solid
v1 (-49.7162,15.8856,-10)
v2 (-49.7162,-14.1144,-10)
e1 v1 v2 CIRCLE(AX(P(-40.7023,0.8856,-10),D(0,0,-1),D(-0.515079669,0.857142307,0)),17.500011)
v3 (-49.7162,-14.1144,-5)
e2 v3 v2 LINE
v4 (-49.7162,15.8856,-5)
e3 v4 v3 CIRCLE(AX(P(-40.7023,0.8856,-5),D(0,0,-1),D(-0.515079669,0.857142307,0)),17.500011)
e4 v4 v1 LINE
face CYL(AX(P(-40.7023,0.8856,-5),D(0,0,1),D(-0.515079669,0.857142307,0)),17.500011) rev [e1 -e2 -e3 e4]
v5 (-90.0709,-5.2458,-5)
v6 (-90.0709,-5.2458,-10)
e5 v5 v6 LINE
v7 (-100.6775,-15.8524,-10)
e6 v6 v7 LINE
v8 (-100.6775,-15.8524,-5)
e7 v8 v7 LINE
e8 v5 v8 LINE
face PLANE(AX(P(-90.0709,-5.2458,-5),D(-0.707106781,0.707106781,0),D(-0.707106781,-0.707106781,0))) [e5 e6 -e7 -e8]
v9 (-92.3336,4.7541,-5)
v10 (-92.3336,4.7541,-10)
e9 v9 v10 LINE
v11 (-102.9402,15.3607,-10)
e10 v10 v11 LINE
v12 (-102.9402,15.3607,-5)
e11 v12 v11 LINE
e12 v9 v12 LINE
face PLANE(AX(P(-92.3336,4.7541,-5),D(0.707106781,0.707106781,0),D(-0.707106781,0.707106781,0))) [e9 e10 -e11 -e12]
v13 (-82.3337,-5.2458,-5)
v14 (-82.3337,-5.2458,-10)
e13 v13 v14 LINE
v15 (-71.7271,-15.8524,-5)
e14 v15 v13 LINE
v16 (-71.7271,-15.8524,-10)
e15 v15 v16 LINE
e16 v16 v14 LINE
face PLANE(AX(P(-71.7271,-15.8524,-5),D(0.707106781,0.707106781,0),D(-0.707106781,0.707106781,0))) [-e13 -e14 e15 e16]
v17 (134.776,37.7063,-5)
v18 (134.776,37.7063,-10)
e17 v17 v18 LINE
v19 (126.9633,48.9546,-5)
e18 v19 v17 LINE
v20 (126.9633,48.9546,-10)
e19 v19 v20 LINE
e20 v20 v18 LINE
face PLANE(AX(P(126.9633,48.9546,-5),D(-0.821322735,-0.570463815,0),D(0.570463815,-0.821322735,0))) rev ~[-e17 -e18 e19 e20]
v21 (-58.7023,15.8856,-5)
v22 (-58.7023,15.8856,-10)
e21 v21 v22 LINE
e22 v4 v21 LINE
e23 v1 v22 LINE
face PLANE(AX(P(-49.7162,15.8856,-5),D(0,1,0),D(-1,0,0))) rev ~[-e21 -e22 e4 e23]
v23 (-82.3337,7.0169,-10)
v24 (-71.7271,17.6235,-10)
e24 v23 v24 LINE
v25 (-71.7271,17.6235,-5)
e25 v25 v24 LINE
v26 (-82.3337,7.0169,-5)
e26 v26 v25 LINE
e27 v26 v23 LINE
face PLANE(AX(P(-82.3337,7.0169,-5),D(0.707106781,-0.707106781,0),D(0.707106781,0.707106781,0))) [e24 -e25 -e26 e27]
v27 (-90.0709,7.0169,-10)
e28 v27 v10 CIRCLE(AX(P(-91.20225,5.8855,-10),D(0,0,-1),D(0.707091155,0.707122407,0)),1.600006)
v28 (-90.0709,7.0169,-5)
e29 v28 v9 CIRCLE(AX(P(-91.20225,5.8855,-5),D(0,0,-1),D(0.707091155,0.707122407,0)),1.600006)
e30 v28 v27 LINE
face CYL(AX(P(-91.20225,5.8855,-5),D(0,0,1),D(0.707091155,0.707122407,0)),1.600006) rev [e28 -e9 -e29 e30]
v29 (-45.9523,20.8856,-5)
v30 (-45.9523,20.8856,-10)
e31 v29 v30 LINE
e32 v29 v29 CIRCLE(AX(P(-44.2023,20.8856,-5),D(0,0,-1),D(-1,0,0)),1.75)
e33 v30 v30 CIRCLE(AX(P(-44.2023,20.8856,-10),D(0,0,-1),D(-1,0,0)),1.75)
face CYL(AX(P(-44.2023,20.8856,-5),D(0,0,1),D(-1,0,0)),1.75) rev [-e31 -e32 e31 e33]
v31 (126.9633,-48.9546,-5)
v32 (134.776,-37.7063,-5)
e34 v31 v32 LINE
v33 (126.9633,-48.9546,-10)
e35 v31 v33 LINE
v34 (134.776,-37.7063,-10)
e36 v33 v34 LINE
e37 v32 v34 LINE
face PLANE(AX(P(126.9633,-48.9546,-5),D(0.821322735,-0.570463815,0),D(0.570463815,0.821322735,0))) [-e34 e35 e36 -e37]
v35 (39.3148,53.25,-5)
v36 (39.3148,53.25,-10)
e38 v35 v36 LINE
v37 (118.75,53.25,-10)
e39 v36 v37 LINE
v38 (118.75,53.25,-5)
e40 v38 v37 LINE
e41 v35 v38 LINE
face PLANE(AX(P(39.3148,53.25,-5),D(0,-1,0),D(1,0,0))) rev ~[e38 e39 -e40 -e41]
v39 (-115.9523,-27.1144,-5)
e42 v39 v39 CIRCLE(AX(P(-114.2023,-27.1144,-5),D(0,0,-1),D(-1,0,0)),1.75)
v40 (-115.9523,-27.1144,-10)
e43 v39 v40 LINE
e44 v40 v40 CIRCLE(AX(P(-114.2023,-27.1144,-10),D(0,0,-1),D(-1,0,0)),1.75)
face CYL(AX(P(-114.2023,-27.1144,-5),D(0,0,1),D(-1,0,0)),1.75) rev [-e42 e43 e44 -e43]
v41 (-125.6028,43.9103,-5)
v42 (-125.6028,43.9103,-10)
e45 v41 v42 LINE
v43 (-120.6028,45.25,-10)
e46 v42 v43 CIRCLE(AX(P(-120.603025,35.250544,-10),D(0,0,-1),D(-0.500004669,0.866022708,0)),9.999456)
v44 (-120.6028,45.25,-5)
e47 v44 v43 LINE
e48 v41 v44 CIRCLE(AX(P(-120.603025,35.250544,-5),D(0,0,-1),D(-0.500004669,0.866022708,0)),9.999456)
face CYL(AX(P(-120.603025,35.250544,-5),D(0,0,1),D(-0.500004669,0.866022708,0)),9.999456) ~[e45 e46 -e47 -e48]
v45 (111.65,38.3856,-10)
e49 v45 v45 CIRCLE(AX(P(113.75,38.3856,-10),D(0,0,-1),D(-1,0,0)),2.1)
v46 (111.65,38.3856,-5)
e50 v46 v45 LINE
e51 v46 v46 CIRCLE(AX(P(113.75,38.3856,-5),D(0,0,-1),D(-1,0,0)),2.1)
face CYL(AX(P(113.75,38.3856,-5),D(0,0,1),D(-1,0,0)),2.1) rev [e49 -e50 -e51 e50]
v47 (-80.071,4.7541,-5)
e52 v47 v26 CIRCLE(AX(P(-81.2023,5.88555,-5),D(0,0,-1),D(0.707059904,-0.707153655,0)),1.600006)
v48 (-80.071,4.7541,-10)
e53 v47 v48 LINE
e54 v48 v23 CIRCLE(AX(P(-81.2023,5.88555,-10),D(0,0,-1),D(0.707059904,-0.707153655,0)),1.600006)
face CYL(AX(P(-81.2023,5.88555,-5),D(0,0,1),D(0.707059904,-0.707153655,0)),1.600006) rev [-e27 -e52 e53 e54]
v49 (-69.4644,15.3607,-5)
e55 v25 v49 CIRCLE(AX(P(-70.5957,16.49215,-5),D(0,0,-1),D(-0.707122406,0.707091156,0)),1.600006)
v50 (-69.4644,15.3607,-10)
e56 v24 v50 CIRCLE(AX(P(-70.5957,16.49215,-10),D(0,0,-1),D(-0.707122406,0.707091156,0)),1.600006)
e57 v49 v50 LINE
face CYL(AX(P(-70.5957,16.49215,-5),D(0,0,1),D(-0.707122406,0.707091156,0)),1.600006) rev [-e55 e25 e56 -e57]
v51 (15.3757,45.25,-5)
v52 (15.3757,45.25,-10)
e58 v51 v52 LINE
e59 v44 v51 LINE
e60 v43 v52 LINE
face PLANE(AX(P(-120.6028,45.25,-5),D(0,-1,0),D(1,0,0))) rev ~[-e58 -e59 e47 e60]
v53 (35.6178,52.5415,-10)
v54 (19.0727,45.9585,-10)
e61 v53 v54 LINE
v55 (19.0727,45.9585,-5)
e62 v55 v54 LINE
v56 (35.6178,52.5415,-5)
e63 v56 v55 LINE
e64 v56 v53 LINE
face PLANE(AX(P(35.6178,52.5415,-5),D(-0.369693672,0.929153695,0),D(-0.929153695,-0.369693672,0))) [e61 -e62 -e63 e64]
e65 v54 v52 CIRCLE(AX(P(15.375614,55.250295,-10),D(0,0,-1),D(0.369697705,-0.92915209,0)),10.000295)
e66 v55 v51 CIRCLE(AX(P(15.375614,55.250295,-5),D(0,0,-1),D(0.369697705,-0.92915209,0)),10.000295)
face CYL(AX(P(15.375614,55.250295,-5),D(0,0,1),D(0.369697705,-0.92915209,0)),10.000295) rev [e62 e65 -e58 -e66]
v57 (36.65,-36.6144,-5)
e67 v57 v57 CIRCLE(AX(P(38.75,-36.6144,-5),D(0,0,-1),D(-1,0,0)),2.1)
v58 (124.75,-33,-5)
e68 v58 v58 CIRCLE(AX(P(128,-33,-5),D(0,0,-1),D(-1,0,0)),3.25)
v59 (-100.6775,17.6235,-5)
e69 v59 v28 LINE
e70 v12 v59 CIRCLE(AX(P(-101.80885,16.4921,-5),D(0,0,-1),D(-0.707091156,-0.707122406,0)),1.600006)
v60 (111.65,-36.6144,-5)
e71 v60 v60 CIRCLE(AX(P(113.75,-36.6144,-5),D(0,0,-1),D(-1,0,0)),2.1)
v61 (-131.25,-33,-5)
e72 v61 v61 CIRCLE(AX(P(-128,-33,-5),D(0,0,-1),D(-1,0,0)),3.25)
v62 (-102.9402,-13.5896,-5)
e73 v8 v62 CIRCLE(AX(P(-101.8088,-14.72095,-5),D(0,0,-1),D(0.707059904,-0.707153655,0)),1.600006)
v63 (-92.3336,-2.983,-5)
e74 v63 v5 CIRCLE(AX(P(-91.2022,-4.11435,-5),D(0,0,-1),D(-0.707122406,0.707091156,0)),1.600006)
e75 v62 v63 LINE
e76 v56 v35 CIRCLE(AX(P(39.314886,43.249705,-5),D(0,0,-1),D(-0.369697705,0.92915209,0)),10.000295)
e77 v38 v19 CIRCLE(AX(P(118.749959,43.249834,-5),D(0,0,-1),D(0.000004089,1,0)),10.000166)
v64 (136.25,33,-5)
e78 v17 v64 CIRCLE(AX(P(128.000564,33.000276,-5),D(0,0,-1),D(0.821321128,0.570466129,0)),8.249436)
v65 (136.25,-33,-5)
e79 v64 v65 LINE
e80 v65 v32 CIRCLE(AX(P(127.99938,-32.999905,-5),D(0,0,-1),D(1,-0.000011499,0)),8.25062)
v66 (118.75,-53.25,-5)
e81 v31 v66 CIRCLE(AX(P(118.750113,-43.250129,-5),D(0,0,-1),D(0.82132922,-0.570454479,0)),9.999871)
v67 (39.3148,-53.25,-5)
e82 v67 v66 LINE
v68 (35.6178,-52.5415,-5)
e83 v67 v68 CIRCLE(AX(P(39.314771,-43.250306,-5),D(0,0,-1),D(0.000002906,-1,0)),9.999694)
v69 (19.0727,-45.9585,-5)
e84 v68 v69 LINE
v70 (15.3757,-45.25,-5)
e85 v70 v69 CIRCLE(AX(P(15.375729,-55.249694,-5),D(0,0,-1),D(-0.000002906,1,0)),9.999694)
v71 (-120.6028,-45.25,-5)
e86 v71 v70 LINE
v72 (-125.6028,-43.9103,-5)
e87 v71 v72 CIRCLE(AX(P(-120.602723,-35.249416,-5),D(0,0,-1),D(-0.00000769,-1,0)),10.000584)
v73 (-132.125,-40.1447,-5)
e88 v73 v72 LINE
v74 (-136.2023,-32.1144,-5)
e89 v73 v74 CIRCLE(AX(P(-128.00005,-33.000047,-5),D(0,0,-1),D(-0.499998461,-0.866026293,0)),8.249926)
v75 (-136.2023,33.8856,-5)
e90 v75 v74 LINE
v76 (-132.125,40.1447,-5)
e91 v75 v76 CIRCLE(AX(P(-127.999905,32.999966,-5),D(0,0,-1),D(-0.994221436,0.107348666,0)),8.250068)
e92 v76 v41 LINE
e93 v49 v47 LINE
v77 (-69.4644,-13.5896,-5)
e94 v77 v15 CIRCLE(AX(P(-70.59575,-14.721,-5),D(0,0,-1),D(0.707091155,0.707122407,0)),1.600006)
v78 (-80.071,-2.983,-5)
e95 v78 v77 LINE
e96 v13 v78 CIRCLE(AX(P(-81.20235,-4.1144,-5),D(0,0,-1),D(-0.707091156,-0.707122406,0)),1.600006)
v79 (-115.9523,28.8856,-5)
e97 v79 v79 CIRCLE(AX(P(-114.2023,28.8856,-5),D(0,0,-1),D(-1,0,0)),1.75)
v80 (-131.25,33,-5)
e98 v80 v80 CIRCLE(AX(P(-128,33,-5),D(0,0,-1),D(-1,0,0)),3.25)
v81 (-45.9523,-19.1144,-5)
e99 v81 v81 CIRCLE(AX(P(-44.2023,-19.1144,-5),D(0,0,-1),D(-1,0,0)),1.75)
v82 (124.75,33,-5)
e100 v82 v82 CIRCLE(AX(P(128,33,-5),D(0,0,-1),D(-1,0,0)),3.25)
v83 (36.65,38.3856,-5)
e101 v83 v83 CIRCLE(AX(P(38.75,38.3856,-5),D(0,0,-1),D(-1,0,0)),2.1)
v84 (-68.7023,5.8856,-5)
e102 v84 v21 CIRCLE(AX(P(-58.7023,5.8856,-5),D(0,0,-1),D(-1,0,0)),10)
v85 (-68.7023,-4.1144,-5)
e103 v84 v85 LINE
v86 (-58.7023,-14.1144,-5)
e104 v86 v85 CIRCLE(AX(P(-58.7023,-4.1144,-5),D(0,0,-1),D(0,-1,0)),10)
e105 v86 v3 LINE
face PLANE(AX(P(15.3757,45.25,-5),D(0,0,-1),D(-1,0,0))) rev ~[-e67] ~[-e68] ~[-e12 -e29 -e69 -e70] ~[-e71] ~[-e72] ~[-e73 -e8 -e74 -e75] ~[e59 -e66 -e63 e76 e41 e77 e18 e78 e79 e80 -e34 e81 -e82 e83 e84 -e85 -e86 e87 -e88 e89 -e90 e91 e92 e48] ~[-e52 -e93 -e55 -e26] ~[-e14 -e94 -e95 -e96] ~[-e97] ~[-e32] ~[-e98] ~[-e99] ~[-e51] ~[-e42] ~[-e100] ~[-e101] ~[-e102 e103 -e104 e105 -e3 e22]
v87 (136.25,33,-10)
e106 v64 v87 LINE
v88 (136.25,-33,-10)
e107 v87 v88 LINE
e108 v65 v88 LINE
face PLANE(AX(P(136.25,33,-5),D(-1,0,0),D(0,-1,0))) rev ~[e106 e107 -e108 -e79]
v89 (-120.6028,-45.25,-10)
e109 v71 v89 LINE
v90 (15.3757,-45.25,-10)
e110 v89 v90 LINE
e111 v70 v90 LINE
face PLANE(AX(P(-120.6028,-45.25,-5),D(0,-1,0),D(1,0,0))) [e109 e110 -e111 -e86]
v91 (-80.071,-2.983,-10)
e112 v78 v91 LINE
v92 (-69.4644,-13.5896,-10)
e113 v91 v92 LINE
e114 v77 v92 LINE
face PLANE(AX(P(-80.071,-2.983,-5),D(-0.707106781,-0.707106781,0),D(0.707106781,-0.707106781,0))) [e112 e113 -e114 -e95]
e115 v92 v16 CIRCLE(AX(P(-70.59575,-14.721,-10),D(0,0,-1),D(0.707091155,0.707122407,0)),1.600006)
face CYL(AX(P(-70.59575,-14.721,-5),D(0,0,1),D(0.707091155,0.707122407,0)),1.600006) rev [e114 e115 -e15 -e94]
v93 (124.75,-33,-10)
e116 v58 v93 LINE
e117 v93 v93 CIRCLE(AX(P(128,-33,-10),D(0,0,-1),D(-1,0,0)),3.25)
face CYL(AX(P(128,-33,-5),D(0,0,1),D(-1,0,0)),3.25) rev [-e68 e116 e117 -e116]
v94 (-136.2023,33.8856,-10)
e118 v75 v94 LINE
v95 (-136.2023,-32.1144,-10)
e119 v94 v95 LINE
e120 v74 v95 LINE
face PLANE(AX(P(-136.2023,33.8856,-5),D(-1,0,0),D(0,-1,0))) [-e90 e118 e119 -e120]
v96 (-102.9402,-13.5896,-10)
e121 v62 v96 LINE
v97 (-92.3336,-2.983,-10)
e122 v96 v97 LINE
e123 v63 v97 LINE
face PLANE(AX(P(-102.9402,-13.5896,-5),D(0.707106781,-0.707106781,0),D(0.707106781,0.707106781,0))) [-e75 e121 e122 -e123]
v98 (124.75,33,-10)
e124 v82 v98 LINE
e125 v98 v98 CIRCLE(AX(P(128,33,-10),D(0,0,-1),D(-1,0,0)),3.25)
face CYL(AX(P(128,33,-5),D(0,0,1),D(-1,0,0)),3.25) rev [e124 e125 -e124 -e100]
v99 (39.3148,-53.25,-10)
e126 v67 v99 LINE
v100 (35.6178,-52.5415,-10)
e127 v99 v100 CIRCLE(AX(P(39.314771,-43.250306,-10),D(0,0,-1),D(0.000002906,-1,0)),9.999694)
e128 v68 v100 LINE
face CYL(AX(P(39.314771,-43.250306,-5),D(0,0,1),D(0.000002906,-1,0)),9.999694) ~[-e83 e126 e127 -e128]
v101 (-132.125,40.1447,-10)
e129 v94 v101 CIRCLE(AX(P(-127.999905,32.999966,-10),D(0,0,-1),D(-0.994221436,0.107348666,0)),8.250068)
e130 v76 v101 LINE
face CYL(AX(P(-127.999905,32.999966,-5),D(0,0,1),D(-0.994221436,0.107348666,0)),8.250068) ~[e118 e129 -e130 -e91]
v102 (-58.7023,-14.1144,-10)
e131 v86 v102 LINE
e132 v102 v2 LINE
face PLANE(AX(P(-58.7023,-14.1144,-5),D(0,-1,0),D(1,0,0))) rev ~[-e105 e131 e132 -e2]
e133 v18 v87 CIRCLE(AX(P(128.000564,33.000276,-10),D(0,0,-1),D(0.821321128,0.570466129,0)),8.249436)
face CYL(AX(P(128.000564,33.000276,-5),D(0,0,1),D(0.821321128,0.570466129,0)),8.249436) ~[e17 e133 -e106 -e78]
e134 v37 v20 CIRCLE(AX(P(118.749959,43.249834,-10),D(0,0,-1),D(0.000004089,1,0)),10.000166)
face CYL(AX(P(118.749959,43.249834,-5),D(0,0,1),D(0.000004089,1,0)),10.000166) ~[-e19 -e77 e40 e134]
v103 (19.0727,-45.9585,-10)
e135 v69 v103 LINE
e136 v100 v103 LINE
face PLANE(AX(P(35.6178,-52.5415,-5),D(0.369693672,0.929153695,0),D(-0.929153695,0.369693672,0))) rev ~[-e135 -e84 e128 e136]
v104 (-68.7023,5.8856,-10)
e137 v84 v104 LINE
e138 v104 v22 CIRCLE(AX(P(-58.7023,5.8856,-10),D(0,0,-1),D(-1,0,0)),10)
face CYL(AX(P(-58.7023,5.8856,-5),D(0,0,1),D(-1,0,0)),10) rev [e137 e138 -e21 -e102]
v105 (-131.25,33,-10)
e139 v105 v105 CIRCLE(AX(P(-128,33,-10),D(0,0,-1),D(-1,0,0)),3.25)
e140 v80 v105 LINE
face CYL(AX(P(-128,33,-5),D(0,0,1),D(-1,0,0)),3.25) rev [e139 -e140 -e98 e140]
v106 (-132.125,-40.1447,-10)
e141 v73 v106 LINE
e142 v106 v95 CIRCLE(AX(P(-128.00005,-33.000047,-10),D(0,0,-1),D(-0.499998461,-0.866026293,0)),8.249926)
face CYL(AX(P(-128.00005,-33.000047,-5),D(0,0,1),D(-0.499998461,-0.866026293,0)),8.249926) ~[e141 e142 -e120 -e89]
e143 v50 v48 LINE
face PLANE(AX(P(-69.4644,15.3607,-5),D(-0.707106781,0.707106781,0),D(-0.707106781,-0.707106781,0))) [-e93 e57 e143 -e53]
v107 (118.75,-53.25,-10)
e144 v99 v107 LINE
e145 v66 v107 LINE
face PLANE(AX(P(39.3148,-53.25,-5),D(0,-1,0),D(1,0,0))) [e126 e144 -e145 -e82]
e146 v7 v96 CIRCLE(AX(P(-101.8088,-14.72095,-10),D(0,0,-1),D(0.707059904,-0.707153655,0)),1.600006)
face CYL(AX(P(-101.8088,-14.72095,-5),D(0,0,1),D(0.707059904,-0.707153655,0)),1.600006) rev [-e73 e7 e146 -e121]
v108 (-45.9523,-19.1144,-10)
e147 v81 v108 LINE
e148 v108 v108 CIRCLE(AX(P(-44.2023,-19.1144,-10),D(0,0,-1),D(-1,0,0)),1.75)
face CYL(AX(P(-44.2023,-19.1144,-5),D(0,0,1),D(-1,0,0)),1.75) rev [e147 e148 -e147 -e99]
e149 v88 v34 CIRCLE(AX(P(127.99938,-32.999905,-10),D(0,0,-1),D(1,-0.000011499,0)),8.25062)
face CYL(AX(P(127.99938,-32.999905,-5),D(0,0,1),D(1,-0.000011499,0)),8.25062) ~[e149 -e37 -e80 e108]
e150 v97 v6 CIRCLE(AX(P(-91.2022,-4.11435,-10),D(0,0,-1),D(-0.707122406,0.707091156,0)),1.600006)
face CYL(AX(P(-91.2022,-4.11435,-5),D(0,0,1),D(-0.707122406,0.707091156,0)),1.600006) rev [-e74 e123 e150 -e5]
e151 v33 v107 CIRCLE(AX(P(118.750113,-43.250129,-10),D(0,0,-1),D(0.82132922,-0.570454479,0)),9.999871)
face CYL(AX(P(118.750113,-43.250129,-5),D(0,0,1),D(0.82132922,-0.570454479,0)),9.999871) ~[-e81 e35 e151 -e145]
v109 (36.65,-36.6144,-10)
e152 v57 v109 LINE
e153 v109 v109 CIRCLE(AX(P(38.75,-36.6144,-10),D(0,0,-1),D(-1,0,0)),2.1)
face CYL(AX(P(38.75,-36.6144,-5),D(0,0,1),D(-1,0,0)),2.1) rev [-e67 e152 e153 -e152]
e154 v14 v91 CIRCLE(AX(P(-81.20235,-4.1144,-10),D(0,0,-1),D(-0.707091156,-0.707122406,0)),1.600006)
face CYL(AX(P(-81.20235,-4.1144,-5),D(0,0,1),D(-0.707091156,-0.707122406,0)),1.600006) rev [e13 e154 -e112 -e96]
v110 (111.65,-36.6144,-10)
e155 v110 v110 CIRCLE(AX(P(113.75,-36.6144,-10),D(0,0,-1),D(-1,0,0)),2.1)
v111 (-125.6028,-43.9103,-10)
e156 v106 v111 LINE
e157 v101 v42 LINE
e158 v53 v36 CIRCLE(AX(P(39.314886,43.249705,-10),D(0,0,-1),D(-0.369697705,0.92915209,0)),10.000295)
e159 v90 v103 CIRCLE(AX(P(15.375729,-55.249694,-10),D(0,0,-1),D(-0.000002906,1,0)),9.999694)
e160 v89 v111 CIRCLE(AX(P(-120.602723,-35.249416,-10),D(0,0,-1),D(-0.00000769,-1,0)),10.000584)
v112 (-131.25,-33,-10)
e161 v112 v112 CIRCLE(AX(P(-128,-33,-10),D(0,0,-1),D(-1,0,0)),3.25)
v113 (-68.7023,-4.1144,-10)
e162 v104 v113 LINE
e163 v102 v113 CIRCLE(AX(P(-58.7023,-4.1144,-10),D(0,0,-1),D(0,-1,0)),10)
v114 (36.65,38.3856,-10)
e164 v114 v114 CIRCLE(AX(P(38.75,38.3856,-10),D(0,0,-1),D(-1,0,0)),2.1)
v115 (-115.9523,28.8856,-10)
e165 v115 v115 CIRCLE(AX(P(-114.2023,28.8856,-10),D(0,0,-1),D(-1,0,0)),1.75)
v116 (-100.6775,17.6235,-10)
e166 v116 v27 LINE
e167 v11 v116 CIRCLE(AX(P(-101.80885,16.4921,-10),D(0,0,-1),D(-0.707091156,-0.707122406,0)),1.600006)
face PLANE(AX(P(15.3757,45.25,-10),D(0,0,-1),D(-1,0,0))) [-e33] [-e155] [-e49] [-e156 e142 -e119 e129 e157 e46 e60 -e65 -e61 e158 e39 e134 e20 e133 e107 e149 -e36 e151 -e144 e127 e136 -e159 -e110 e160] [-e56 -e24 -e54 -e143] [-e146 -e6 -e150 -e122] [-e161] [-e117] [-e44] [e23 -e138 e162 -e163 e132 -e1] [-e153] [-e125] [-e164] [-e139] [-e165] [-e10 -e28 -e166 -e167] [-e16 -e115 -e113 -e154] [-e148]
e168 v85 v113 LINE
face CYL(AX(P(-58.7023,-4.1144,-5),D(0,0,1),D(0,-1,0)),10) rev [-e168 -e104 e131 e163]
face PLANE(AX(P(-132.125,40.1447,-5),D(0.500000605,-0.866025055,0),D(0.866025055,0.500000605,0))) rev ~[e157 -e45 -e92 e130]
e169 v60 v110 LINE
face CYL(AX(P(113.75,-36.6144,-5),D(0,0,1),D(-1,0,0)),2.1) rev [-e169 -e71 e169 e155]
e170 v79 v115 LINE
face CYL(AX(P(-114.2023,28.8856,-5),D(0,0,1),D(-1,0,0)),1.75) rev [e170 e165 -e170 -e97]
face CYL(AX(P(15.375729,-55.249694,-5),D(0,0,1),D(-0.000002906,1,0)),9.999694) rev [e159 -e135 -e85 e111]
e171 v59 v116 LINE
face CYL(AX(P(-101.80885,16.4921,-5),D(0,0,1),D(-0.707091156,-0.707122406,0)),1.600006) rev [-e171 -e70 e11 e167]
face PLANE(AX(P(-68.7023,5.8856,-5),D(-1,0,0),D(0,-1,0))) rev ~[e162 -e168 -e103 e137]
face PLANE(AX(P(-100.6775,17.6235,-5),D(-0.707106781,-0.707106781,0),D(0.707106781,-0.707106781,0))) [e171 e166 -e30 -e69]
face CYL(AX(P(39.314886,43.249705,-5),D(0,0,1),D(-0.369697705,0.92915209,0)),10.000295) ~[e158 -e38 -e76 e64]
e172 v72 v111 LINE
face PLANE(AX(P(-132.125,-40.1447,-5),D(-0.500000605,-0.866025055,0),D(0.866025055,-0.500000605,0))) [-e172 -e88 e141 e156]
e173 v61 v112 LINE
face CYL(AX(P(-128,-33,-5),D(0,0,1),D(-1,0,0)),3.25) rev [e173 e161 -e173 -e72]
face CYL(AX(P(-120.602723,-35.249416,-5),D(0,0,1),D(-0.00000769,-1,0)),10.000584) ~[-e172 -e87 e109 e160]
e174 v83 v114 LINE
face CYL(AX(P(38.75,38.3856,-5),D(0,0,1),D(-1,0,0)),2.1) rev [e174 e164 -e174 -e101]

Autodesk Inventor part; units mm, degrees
ref_plane "YZ Plane" through (0, 0, 0) normal (1, 0, 0) x (0, 1, 0)
ref_plane "XZ Plane" through (0, 0, 0) normal (0, 1, 0) x (-1, 0, 0)
ref_plane "XY Plane" through (0, 0, 0) normal (0, 0, 1) x (1, 0, 0)
ref_plane "作業平面1" through (15.3757, 45.25, -5) normal (0, 0, -1) x (-1, 0, 0)
sketch "Base_plate" plane through (15.3757, 45.25, -5) normal (0, 0, -1) x (-1, 0, 0)
  circle A0 centre (-112.6243, -12.25) radius 3.25
  circle A1 centre (-112.6243, -78.25) radius 3.25
  circle A2 centre (143.3757, -78.25) radius 3.25
  circle A3 centre (143.3757, -12.25) radius 3.25
  line L0 (151.578, -11.3644) -> (151.578, -77.3644)
  arc A4 (151.578, -11.3644) -> (147.5007, -5.1053) centre (143.3757, -12.25) ccw
  line L1 (147.5007, -5.1053) -> (140.9785, -1.3397)
  arc A5 (140.9785, -1.3397) -> (135.9785, 0) centre (135.9785, -10) ccw
  line L2 (135.9785, 0) -> (0, 0)
  line L3 (-20.2421, 7.2915) -> (-3.697, 0.7085)
  line L4 (-23.9391, 8) -> (-103.3743, 8)
  line L5 (0, 0) -> (135.9785, 0)
  arc A6 (140.9785, -1.3397) -> (135.9785, 0) centre (135.9785, -10) ccw
  line L6 (140.9785, -1.3397) -> (147.5007, -5.1053)
  arc A7 (151.578, -11.3644) -> (147.5007, -5.1053) centre (143.3757, -12.25) ccw
  line L7 (151.578, -11.3644) -> (151.578, -77.3644)
  arc A8 (147.5007, -85.3947) -> (151.578, -77.3644) centre (143.3757, -78.25) ccw
  arc A9 (-103.3743, 8) -> (-111.5876, 3.7046) centre (-103.3743, -2) ccw
  line L8 (-103.3743, 8) -> (-23.9391, 8)
  arc A10 (-20.2421, 7.2915) -> (-23.9391, 8) centre (-23.9391, -2) ccw
  line L9 (-20.2421, 7.2915) -> (-3.697, 0.7085)
  arc A11 (-3.697, 0.7085) -> (0, 0) centre (0, 10) ccw
  circle A12 centre (-112.6243, -12.25) radius 3.25
  circle A13 centre (143.3757, -12.25) radius 3.25
  circle A14 centre (143.3757, -78.25) radius 3.25
  circle A15 centre (-112.6243, -78.25) radius 3.25
  line L10 (135.9785, 0) -> (0, 0)
  arc A16 (140.9785, -1.3397) -> (135.9785, 0) centre (135.9785, -10) ccw
  line L11 (147.5007, -5.1053) -> (140.9785, -1.3397)
  arc A17 (151.578, -11.3644) -> (147.5007, -5.1053) centre (143.3757, -12.25) ccw
  line L12 (151.6257, -11.3644) -> (151.6257, -77.3644)
  arc A18 (147.5007, -85.3947) -> (151.578, -77.3644) centre (143.3757, -78.25) ccw
  line L13 (147.5007, -85.3947) -> (140.9785, -89.1603)
  arc A19 (135.9785, -90.5) -> (140.9785, -89.1603) centre (135.9785, -80.5) ccw
  line L14 (135.9785, -90.5) -> (0, -90.5)
  arc A20 (0, -90.5) -> (-3.697, -91.2085) centre (0, -100.5) ccw
  line L15 (-20.2421, -97.7915) -> (-3.697, -91.2085)
  arc A21 (-23.9391, -98.5) -> (-20.2421, -97.7915) centre (-23.9391, -88.5) ccw
  line L16 (-23.9391, -98.5) -> (-103.3743, -98.5)
  arc A22 (-111.5876, -94.2046) -> (-103.3743, -98.5) centre (-103.3743, -88.5) ccw
  line L17 (-111.5876, -94.2046) -> (-119.4003, -82.9563)
  arc A23 (-120.8743, -78.25) -> (-119.4003, -82.9563) centre (-112.6243, -78.25) ccw
  line L18 (-120.8743, -12.25) -> (-120.8743, -78.25)
  arc A24 (-119.4003, -7.5437) -> (-120.8743, -12.25) centre (-112.6243, -12.25) ccw
  line L19 (-111.5876, 3.7046) -> (-119.4003, -7.5437)
  line L20 (-23.9391, 8) -> (-103.3743, 8)
  arc A25 (-20.2421, 7.2915) -> (-23.9391, 8) centre (-23.9391, -2) ccw
  line L21 (-20.2421, 7.2915) -> (-3.697, 0.7085)
  arc A26 (-3.697, 0.7085) -> (0, 0) centre (0, 10) ccw
  line L22 (101.578, 7.8213) -> (101.578, -100.5) construction
  line L23 (151.6257, -44.3644) -> (-114.4175, -44.3644) construction
  circle A27 centre (56.078, -44.3644) radius 17.5 construction
  line L24 (129.578, -5.1053) -> (129.578, -82.9563) construction
  circle A28 centre (129.578, -16.3644) radius 1.75
  circle A29 centre (129.578, -72.3644) radius 1.75
  line L25 (59.578, -19.3302) -> (59.578, -75) construction
  circle A30 centre (59.578, -24.3644) radius 1.75
  circle A31 centre (59.578, -64.3644) radius 1.75
  circle A32 centre (101.578, -44.3644) radius 14.75 construction
  line L26 (101.578, -44.3644) -> (118.6401, -27.3023) construction
  line L27 (101.578, -44.3644) -> (125.7075, -44.3644) construction
  line L28 (106.5779, -39.3645) -> (117.1845, -28.7579) construction
  line L29 (107.7093, -40.4959) -> (118.3159, -29.8893)
  line L30 (116.0532, -27.6265) -> (105.4466, -38.2331)
  arc A33 (105.4466, -38.2331) -> (107.7093, -40.4959) centre (106.5779, -39.3645) ccw
  arc A34 (118.3159, -29.8893) -> (116.0532, -27.6265) centre (117.1845, -28.7579) ccw
  line L31 (84.8401, -29.8893) -> (95.4467, -40.4959)
  arc A35 (87.1028, -27.6265) -> (84.8401, -29.8893) centre (85.9714, -28.7579) ccw
  line L32 (97.7094, -38.2331) -> (87.1028, -27.6265)
  arc A36 (95.4467, -40.4959) -> (97.7094, -38.2331) centre (96.578, -39.3645) ccw
  line L33 (87.1028, -61.1024) -> (97.7094, -50.4958)
  arc A37 (84.8401, -58.8396) -> (87.1028, -61.1024) centre (85.9714, -59.971) ccw
  line L34 (95.4467, -48.233) -> (84.8401, -58.8396)
  arc A38 (97.7094, -50.4958) -> (95.4467, -48.233) centre (96.578, -49.3644) ccw
  line L35 (118.3159, -58.8396) -> (107.7093, -48.233)
  arc A39 (116.0532, -61.1024) -> (118.3159, -58.8396) centre (117.1845, -59.971) ccw
  line L36 (105.4466, -50.4958) -> (116.0532, -61.1024)
  arc A40 (107.7093, -48.233) -> (105.4466, -50.4958) centre (106.5779, -49.3644) ccw
  line L37 (65.0919, -29.3644) -> (74.078, -29.3644)
  line L38 (84.078, -39.3644) -> (84.078, -49.3644)
  line L39 (74.078, -59.3644) -> (65.0919, -59.3644)
  line L40 (65.0919, -59.3644) -> (65.0919, -29.3644) construction
  arc A41 (84.078, -39.3644) -> (74.078, -29.3644) centre (74.078, -39.3644) ccw
  arc A42 (74.078, -59.3644) -> (84.078, -49.3644) centre (74.078, -49.3644) ccw
  arc A43 (65.0919, -29.3644) -> (65.0919, -59.3644) centre (56.078, -44.3644) ccw
  line L41 (-60.8743, -12.5765) -> (-60.8743, -79.1684) construction
  line L42 (-98.3743, -6.8644) -> (-23.3743, -6.8644) construction
  line L43 (-23.3743, -6.8644) -> (-23.3743, -81.8644) construction
  line L44 (-23.3743, -81.8644) -> (-98.3743, -81.8644) construction
  line L45 (-98.3743, -81.8644) -> (-98.3743, -6.8644) construction
  line L46 (-98.3743, -6.8644) -> (-23.3743, -81.8644) construction
  line L47 (-23.3743, -6.8644) -> (-98.3743, -81.8644) construction
  circle A44 centre (-98.3743, -6.8644) radius 2.1
  circle A45 centre (-23.3743, -6.8644) radius 2.1
  circle A46 centre (-98.3743, -81.8644) radius 2.1
  circle A47 centre (-23.3743, -81.8644) radius 2.1
  point P0 (144.2396, -3.2225)
  point P1 (144.2396, -87.2775)
  point P2 (111.8812, -34.0612)
  point P3 (91.2747, -34.0612)
  point P4 (91.2747, -54.6677)
  point P5 (111.8812, -54.6677)
  point P6 (-60.8743, -44.3644)
  point P7 (-60.8743, -44.3644)
  dimension "d20" = 50
  dimension "d21" = 45.5
  dimension "d22" = 35
  dimension "d23" = 28
  dimension "d24" = 3.5
  dimension "d25" = 3.5
  dimension "d26" = 28
  dimension "d27" = 28
  dimension "d28" = 42
  dimension "d29" = 3.5
  dimension "d30" = 3.5
  dimension "d31" = 20
  dimension "d32" = 20
  dimension "d40" = 29.5
  dimension "d43" = 45
  dimension "d44" = 3.2
  dimension "d45" = 7.071
  dimension "d46" = 15
  dimension "d49" = 360
  dimension "d51" = 15
  dimension "d52" = 15
  dimension "d53" = 28
  dimension "d54" = 10
  dimension "d65" = 60
  dimension "d66" = 75
  dimension "d67" = 75
  dimension "d68" = 4.2
  dimension "d69" = 4.2
  dimension "d70" = 4.2
  dimension "d71" = 4.2
sketch "RPLidarA1M8" plane through (15.3757, 45.25, -5) normal (0, 0, -1) x (-1, 0, 0)
  line L0 (59.578, -45.9195) -> (59.578, -117.33) construction
  circle A0 centre (59.578, -24.3644) radius 1.5
  circle A1 centre (59.578, -64.3644) radius 1.5
  line L1 (4.0197, -44.3644) -> (199.1363, -44.3644) construction
  circle A2 centre (129.578, -16.3644) radius 1.5
  line L2 (101.578, -2.732) -> (101.578, -85.9969) construction
  circle A3 centre (101.578, -44.3644) radius 35.14
  line L3 (59.578, -6.852) -> (59.578, -81.8768) construction
  circle A4 centre (129.578, -72.3644) radius 1.5
  line L4 (129.578, -10.2254) -> (129.578, -77.75) construction
  circle A5 centre (56.078, -44.3644) radius 10
  circle A6 centre (56.078, -44.3644) radius 16
  line L5 (151.6257, -44.3644) -> (-114.4175, -44.3644) construction
  line L6 (101.578, 7.8213) -> (101.578, -100.5) construction
  point P0 (15.3757, -88.1377)
  point P1 (59.578, -44.3644)
  point P2 (129.578, -43.9877)
  dimension "d1" = 3
  dimension "d2" = 3
  dimension "d5" = 20
  dimension "d6" = 3
  dimension "d10" = 70.28
  dimension "d11" = 42
  dimension "d12" = 40
  dimension "d13" = 3
  dimension "d14" = 28
  dimension "d15" = 28
  dimension "d16" = 28
  dimension "d17" = 20
  dimension "d18" = 45.5
  dimension "d19" = 32
sketch "RPLidarA2M6" plane through (15.3757, 45.25, -5) normal (0, 0, -1) x (-1, 0, 0)
  line L0 (101.578, 7.8213) -> (101.578, -100.5) construction
  line L1 (151.6257, -44.3644) -> (-114.4175, -44.3644) construction
  circle A0 centre (101.578, -44.3644) radius 14.75 construction
  circle A1 centre (112.0078, -33.9346) radius 1.5
  line L2 (112.0078, -33.9346) -> (101.578, -44.3644) construction
  circle A2 centre (91.1482, -33.9346) radius 1.5
  circle A3 centre (91.1482, -54.7943) radius 1.5
  circle A4 centre (112.0078, -54.7943) radius 1.5
  dimension "d33" = 29.5
  dimension "d34" = 3
  dimension "d35" = 45
  dimension "d38" = 360
extrude "押し出し1" add sketch "Base_plate" along normal blind 5
